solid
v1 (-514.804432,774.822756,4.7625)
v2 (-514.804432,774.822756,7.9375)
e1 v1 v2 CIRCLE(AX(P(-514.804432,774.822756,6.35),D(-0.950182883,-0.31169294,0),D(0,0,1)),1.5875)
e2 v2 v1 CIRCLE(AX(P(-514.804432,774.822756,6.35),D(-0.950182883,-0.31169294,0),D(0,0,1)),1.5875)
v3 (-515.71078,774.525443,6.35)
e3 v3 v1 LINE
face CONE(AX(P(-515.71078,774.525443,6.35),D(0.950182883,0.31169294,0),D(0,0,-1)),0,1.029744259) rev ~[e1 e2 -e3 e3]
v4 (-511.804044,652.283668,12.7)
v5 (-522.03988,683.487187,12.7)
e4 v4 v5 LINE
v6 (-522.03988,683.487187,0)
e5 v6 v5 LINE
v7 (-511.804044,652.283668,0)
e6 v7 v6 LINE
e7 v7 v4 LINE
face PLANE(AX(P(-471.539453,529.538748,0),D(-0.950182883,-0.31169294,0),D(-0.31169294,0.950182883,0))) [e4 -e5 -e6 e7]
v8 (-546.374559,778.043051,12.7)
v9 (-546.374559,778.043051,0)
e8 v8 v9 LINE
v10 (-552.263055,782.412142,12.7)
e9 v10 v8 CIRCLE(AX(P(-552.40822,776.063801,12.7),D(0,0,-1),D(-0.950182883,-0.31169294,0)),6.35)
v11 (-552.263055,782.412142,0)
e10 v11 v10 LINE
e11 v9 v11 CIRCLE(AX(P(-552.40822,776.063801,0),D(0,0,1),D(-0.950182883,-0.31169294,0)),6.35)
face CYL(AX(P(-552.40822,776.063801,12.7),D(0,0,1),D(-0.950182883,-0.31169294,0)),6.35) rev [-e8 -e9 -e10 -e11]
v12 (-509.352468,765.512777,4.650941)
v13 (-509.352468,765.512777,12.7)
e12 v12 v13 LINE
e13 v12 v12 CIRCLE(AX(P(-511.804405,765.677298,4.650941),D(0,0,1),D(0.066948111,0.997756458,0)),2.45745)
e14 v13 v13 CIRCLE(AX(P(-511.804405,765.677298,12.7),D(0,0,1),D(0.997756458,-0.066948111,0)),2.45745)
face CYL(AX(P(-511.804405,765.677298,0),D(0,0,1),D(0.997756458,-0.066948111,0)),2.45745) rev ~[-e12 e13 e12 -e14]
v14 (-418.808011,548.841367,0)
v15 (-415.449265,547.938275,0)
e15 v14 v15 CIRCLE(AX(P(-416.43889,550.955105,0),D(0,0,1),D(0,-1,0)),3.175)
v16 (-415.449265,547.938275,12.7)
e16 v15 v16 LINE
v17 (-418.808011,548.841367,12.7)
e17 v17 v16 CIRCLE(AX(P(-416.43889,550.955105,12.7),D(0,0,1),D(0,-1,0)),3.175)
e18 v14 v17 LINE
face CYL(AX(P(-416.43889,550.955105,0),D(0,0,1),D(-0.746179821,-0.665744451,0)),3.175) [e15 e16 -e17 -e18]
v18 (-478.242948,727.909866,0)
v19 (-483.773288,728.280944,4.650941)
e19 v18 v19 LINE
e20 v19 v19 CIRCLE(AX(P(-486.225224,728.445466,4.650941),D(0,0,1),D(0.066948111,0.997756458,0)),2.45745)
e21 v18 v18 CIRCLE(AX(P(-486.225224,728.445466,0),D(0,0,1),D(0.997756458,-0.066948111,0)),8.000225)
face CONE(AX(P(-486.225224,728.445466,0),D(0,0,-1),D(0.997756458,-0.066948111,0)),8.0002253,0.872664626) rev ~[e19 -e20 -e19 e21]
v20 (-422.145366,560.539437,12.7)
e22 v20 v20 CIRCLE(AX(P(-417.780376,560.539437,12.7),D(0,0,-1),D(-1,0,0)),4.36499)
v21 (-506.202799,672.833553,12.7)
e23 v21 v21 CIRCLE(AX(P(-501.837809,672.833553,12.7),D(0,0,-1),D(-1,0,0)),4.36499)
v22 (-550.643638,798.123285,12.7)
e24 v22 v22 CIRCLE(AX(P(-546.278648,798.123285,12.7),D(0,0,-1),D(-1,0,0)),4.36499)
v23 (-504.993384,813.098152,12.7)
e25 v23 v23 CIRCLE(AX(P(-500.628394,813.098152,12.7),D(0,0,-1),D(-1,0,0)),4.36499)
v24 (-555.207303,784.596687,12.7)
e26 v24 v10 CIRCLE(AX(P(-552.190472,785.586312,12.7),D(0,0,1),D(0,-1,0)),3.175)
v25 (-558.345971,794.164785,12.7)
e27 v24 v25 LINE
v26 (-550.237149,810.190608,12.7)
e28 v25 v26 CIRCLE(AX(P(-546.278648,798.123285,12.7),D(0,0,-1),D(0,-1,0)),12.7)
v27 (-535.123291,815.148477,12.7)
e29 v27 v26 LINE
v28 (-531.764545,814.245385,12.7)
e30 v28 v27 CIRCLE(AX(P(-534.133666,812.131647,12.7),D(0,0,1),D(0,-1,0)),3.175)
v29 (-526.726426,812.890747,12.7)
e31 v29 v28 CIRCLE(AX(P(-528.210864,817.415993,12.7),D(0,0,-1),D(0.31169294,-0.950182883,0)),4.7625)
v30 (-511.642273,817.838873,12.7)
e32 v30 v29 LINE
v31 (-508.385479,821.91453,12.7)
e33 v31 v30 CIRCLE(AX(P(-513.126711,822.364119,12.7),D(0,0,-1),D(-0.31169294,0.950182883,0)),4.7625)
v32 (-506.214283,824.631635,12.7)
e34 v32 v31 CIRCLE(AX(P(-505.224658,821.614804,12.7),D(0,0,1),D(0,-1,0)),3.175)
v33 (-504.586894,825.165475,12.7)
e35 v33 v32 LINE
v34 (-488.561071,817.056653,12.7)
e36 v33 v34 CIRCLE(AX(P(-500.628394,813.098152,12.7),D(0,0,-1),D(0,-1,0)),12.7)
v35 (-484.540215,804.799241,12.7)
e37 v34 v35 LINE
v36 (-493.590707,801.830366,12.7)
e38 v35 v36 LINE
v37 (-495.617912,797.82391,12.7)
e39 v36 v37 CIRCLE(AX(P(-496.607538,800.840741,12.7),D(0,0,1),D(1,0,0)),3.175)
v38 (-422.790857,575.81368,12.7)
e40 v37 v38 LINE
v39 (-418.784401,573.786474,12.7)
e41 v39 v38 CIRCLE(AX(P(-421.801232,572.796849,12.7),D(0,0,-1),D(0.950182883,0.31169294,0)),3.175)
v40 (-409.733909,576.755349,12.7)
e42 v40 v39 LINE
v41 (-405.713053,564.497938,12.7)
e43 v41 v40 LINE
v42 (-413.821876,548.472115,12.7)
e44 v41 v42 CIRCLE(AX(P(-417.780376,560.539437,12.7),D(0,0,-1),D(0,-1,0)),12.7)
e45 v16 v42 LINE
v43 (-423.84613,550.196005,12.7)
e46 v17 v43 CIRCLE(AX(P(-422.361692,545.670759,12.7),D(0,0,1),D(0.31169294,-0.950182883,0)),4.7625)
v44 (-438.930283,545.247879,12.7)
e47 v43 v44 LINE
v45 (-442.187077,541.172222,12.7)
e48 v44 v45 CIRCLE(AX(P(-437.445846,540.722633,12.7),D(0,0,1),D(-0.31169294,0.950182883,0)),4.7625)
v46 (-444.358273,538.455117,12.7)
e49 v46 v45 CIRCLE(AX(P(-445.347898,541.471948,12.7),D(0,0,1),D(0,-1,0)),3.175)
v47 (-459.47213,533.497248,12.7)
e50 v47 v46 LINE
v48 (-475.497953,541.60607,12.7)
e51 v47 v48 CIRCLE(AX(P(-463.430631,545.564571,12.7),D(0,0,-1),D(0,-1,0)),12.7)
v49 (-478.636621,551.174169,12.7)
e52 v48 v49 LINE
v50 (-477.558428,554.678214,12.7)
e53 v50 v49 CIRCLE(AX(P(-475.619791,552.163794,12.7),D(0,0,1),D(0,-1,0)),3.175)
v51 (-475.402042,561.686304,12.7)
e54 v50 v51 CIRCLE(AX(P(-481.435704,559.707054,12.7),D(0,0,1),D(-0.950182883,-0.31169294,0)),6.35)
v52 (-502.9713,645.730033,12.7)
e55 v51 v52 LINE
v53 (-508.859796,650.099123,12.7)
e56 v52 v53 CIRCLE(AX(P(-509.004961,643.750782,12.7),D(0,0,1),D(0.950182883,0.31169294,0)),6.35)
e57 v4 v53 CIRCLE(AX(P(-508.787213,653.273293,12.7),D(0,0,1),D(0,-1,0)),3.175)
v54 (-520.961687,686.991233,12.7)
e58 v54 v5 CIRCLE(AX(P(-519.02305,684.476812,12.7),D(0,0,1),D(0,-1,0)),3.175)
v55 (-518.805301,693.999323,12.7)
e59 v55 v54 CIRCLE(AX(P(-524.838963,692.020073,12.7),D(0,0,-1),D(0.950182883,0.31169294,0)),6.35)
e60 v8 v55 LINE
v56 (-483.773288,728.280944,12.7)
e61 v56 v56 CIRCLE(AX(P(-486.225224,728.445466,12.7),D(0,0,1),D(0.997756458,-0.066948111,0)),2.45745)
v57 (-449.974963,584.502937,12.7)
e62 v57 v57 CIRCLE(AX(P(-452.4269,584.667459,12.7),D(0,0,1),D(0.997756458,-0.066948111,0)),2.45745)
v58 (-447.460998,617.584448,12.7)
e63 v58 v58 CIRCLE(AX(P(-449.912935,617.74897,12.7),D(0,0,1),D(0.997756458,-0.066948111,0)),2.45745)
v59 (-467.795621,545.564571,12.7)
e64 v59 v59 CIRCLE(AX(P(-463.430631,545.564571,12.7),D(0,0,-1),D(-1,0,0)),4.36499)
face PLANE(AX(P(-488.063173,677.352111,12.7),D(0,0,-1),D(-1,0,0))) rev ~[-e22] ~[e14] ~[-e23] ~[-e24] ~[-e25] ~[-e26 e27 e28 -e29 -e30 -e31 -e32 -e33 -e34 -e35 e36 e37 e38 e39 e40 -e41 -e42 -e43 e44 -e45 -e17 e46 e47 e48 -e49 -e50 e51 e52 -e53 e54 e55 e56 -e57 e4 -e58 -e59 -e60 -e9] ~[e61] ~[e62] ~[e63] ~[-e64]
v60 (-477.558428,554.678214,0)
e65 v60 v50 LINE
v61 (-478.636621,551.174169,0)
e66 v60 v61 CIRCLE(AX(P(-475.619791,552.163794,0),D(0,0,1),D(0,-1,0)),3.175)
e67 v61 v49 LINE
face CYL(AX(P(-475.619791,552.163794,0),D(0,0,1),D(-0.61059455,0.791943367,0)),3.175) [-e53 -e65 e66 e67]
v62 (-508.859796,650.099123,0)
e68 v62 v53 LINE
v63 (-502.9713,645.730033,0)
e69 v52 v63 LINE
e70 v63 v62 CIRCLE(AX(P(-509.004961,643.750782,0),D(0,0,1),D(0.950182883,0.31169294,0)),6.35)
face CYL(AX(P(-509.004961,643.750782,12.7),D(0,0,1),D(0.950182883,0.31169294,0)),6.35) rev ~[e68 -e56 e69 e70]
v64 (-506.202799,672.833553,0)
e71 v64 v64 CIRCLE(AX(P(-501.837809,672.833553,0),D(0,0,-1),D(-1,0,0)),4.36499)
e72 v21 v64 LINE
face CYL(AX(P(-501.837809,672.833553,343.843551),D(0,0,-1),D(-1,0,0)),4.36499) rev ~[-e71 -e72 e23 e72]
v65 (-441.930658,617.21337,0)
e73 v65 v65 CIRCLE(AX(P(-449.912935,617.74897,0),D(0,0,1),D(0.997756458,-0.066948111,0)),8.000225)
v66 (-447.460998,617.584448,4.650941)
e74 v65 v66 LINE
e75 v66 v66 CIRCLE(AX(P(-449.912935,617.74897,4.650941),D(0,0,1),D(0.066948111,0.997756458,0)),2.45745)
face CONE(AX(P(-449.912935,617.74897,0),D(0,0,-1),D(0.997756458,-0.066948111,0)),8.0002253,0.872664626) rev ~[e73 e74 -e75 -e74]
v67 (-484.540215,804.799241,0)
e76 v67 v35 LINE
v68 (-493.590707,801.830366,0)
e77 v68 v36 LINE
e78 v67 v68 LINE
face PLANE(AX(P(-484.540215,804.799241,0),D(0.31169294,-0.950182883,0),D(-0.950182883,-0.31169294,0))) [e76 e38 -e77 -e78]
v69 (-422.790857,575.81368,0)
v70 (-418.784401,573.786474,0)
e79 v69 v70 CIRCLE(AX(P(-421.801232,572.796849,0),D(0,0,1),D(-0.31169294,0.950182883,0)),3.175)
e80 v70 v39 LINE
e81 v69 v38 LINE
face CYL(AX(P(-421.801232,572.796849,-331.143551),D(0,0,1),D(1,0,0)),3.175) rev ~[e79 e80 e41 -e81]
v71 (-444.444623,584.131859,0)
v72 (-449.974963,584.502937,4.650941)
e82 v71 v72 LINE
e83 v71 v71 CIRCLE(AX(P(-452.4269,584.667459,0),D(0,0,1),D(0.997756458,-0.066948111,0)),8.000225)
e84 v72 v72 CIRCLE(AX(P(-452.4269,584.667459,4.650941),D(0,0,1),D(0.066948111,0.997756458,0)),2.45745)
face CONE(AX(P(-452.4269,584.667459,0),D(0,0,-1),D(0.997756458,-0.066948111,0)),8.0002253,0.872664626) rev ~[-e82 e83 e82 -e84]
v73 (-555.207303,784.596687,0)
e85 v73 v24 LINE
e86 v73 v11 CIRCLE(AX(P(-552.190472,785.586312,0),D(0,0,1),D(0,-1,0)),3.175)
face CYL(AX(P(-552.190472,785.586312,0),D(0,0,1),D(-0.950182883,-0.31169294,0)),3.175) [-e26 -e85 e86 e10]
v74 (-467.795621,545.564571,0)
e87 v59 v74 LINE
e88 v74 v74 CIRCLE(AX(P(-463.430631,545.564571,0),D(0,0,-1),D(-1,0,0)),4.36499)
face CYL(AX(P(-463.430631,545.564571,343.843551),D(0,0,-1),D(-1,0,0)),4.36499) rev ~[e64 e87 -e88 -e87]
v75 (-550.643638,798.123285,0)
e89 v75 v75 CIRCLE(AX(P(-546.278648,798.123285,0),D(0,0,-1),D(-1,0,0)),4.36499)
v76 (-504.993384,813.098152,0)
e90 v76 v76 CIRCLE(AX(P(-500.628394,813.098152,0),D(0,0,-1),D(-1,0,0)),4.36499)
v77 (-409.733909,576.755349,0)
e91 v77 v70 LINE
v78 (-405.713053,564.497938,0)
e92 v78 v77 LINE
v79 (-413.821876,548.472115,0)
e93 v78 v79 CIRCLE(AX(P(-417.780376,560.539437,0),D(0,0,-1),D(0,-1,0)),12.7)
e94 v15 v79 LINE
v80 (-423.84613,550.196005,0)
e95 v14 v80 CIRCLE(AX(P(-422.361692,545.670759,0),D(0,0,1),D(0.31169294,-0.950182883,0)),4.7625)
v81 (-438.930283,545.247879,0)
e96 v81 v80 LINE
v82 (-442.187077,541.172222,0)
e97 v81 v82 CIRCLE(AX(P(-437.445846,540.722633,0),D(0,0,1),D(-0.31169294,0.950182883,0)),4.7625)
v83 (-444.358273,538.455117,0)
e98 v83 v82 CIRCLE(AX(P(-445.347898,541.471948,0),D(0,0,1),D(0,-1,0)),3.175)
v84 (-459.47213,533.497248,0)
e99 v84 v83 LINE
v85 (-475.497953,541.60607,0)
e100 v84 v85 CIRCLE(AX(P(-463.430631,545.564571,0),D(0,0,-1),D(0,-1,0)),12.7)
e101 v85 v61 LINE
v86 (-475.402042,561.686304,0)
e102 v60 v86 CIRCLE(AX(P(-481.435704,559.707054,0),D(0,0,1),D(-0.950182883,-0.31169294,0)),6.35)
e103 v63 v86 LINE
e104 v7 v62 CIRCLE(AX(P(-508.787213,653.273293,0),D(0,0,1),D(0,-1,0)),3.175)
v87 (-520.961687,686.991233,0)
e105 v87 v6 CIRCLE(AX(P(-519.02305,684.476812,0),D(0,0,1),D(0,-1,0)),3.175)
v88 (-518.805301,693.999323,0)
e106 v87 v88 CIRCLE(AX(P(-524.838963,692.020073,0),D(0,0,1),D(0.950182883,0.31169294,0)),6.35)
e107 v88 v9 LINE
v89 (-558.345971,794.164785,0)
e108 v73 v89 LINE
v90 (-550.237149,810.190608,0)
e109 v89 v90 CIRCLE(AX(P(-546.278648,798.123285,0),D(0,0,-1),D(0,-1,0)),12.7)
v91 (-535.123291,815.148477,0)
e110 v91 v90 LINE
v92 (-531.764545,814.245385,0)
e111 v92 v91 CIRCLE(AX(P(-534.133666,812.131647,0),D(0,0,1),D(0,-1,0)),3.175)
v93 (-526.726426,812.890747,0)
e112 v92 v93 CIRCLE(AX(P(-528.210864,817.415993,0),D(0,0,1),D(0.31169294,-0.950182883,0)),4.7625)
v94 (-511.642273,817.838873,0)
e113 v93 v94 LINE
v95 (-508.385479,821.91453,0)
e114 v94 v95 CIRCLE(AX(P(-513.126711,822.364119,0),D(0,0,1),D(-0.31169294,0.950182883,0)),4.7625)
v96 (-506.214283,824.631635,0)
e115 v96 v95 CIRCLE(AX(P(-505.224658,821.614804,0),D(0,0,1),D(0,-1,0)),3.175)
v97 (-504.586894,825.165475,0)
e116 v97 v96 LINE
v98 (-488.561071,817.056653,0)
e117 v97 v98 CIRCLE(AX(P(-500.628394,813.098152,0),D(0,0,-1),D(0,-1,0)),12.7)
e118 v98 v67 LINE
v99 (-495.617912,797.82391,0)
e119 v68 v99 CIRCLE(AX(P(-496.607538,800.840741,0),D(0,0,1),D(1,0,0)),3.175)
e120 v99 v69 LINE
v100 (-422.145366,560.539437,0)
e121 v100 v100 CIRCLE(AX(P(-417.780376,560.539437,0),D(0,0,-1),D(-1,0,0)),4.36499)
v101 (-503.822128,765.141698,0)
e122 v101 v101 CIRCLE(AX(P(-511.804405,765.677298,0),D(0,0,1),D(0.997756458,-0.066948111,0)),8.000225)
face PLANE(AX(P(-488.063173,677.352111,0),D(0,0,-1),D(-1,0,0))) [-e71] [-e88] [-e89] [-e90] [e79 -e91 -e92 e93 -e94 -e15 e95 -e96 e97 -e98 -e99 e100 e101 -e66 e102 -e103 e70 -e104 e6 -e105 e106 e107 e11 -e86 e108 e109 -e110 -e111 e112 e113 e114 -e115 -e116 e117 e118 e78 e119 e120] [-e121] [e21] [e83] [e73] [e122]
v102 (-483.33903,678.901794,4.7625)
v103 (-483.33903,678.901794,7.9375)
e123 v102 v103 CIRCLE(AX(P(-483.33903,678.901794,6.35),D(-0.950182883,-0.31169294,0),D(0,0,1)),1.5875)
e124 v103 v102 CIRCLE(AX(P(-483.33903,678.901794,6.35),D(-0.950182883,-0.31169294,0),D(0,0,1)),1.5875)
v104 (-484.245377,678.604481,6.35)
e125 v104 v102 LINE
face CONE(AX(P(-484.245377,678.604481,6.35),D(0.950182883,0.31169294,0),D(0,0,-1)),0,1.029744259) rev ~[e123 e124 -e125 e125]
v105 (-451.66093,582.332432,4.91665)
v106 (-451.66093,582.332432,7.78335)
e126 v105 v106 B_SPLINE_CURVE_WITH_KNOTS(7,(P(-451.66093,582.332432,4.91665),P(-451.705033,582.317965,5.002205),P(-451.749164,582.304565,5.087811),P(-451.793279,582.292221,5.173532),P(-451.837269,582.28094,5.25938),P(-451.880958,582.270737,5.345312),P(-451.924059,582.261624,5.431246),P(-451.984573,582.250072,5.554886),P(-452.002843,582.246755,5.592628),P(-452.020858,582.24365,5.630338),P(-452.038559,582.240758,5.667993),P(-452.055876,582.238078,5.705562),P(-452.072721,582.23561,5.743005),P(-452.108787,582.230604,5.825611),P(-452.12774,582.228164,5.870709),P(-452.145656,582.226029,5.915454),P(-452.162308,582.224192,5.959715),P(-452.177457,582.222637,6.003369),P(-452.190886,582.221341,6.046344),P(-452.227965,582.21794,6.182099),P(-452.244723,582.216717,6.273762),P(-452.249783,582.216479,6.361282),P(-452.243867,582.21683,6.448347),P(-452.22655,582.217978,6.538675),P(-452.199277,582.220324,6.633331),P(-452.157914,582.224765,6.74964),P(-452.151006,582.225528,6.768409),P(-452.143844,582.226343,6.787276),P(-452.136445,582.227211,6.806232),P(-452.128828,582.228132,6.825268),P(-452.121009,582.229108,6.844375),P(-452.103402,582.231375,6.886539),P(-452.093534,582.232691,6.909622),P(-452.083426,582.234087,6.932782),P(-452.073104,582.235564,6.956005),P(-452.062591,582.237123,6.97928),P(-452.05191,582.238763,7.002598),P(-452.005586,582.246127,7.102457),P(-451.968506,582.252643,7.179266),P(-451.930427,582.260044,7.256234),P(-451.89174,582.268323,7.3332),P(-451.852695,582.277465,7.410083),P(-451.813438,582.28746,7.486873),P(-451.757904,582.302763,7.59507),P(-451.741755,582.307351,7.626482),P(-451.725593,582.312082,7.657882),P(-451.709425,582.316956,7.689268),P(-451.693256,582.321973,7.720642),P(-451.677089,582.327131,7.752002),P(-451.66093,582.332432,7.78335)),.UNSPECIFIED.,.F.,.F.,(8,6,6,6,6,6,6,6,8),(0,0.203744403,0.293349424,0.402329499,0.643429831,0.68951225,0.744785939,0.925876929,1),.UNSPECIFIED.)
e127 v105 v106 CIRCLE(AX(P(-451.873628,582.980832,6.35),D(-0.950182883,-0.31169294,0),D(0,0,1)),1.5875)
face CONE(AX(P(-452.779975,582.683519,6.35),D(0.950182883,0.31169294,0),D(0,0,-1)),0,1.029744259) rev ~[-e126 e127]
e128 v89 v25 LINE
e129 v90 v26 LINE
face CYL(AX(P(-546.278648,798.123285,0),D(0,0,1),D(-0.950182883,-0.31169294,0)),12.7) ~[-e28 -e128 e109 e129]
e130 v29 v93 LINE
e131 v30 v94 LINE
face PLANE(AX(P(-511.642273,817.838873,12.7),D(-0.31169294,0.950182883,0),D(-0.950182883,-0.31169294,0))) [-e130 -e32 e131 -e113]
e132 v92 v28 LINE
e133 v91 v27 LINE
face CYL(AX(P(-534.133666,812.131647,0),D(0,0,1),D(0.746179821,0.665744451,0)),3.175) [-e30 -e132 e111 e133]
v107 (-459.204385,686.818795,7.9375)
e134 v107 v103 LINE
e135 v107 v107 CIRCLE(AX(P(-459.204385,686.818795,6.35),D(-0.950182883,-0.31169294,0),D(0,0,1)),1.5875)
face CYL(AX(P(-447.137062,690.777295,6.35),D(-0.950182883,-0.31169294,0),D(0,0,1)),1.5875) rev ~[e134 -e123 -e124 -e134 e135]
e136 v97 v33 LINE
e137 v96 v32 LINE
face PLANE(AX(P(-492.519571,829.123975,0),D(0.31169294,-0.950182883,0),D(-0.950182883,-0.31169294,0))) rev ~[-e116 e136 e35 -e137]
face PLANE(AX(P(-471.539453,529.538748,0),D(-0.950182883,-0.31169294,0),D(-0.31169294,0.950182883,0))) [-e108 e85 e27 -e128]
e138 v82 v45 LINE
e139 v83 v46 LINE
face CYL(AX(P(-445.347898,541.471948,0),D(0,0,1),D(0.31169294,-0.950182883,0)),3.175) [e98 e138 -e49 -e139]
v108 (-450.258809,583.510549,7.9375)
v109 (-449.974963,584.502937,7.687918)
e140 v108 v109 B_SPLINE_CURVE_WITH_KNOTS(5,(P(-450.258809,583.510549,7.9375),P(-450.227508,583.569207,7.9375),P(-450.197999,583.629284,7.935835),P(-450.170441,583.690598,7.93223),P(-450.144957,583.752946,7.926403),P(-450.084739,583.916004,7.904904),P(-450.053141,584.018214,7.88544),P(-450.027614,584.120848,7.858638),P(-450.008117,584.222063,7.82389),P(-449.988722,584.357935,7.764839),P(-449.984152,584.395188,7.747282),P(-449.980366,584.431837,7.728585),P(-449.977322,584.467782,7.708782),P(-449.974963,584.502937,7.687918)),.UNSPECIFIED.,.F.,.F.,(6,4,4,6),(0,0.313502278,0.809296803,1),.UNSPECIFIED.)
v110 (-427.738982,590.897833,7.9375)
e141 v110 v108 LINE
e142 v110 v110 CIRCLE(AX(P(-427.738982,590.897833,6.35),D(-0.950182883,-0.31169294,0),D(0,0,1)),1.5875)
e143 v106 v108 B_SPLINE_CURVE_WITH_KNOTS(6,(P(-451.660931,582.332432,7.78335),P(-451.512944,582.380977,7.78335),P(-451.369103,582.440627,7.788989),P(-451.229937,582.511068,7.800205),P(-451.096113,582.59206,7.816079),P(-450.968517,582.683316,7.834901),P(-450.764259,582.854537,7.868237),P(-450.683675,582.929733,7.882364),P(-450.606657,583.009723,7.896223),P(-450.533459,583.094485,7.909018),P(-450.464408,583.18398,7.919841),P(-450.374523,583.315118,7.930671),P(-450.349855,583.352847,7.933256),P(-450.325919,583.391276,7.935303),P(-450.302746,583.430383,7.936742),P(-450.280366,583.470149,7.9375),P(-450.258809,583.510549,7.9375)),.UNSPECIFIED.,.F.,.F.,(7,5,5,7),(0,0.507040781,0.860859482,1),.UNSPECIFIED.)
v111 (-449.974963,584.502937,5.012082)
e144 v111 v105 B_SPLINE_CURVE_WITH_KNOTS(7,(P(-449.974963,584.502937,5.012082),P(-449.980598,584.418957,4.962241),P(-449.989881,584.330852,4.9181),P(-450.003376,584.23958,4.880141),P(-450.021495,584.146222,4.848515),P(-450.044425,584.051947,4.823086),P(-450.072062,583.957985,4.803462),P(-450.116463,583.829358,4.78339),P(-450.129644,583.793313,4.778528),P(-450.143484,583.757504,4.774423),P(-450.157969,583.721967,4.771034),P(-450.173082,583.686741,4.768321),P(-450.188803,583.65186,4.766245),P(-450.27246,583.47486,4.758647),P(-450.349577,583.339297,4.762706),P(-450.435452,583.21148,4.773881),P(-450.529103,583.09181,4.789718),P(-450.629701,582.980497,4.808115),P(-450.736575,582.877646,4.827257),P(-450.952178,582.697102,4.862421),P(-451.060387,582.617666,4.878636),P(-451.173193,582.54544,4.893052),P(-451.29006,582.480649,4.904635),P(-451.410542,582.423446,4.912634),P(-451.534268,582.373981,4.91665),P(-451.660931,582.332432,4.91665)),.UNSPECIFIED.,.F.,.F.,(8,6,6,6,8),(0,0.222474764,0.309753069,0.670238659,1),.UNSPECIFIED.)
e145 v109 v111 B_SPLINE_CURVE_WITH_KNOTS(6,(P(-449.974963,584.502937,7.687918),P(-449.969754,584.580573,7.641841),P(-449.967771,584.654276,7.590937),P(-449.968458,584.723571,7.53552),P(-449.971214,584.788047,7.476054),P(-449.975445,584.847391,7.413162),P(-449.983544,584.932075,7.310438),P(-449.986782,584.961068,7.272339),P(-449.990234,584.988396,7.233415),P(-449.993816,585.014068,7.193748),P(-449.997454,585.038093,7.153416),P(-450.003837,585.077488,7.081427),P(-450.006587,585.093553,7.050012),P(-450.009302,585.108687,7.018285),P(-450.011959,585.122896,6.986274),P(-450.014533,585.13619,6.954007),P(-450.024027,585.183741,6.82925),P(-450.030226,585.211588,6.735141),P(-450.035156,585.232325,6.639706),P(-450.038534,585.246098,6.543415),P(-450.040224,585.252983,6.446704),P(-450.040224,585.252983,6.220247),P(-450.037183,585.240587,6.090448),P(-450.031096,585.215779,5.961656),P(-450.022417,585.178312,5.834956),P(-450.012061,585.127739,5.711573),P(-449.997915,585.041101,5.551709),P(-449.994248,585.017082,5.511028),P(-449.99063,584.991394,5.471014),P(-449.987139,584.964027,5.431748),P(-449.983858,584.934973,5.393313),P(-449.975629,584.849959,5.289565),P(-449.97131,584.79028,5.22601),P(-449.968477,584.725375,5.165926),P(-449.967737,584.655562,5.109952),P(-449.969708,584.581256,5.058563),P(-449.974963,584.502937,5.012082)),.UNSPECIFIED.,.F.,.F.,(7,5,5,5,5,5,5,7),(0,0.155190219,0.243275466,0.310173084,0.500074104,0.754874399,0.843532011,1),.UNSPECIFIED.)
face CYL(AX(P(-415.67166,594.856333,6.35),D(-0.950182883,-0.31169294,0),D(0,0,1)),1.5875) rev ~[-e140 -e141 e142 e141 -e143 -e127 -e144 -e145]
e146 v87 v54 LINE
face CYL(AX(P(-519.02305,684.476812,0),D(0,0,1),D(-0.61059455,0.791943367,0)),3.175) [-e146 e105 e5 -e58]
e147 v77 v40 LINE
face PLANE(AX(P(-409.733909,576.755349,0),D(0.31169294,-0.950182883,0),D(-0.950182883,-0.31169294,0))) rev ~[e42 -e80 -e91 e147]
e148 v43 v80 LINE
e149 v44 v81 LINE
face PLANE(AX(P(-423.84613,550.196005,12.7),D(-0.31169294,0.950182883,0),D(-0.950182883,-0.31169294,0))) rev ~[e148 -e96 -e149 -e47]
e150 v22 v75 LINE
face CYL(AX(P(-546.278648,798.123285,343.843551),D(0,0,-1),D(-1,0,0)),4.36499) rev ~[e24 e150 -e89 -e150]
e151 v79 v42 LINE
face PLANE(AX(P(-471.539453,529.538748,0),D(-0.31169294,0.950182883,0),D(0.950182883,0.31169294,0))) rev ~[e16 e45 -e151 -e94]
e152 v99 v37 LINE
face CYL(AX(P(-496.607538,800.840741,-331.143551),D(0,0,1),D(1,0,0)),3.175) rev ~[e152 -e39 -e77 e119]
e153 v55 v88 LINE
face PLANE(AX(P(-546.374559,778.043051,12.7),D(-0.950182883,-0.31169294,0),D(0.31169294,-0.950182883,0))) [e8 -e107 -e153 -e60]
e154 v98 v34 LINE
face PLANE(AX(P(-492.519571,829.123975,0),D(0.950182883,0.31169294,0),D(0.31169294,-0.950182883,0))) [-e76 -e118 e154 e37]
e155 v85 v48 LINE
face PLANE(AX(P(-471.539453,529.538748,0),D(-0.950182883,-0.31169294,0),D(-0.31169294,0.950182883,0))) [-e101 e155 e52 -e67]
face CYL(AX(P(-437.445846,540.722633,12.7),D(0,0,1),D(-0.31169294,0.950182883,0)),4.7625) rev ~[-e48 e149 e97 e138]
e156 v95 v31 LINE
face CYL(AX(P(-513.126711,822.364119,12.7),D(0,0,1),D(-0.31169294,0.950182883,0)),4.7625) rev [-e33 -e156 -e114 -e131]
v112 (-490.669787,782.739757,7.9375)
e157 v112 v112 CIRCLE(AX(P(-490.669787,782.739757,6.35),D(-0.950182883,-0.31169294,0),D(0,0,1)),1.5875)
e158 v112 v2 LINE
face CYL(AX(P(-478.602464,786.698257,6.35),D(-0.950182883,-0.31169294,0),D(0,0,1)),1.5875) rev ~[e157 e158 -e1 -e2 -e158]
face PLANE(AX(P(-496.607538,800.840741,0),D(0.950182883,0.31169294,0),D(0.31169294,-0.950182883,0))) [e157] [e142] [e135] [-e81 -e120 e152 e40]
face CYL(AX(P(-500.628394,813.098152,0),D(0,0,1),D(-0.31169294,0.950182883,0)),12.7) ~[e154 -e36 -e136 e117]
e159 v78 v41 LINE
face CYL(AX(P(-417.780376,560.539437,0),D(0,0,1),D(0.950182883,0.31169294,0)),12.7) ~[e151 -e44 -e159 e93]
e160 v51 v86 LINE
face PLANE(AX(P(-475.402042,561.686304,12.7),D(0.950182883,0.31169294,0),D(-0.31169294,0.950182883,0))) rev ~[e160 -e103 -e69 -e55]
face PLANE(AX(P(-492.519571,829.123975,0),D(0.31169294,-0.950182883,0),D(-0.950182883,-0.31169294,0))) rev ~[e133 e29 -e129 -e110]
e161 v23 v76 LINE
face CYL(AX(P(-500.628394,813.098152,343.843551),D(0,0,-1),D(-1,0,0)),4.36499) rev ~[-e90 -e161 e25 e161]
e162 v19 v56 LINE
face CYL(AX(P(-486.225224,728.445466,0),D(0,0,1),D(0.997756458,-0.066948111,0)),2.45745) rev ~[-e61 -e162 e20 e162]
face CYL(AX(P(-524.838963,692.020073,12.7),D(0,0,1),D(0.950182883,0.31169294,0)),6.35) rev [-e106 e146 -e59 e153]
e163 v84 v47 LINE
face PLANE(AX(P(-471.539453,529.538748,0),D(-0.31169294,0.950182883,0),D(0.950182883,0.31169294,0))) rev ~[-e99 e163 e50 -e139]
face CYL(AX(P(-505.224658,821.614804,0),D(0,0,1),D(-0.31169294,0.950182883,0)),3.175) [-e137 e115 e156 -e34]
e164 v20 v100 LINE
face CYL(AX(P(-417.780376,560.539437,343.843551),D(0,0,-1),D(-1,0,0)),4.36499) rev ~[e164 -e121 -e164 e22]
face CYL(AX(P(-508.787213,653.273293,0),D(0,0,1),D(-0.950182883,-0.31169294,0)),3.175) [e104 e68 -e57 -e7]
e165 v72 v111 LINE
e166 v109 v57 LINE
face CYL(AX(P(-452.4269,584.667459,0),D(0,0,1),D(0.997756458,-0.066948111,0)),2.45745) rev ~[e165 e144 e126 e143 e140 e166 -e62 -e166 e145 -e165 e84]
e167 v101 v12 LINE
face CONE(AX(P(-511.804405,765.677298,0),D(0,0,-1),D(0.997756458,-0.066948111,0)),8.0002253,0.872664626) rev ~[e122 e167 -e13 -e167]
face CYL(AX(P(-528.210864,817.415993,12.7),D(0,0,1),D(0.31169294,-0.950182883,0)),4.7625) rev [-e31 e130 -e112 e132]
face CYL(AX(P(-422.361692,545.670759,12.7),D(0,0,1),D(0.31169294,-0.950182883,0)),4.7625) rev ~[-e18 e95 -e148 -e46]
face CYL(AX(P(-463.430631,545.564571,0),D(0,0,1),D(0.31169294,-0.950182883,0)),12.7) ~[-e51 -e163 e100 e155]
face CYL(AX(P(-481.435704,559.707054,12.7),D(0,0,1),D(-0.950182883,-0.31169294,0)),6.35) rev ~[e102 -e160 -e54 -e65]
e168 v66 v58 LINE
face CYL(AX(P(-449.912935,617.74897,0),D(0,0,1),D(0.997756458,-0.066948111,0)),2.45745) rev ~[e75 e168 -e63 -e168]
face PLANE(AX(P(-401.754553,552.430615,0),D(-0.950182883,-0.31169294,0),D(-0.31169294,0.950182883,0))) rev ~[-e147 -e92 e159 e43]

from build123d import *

# Parameters (mm, degrees)
BOSS_EXTRUDE1_DEPTH                               = 12.7
FILLET1_R                                         = 12.7
F_1_4_0_25_DIAMETER_HOLE1_D                       = 6.35
HOLE1_D                                           = 3.175
HOLE1_DEPTH                                       = 38.1
HOLE1_CSINK_D                                     = 10.16
HOLE1_CSINK_ANGLE                                 = 82
HOLE1_TIP                                         = 0.9538662327062519
F_5_16_CLEARANCE_HOLE1_D                          = 8.72998
CUT_EXTRUDE1_DEPTH                                = 998.2767957894854
FILLET2_R                                         = 3.175
CSK_FOR_8_FLAT_HEAD_MACHINE_SCREW_100_D           = 4.9149
CSK_FOR_8_FLAT_HEAD_MACHINE_SCREW_100_DEPTH       = 22.225
CSK_FOR_8_FLAT_HEAD_MACHINE_SCREW_100_CSINK_D     = 16.0004506
CSK_FOR_8_FLAT_HEAD_MACHINE_SCREW_100_CSINK_ANGLE = 100
CSK_FOR_8_FLAT_HEAD_MACHINE_SCREW_100_TIP         = 1.476584928229278


with BuildPart() as part:
    # Sketch1 → Boss-Extrude1 (new body)
    with BuildSketch(Plane.XY):
        Polygon((-504.586893891522, 825.1654748045078), (-413.82187552728277, 548.4721148571872), (-471.5394528912339, 529.5387477161187), (-562.3044712554732, 806.2321076634394), align=None)
        Polygon((-421.80123191535296, 572.7968488683923), (-413.82187552728277, 548.4721148571872), (-401.754552912923, 552.4306151945574), (-409.7339093009929, 576.7553492057625), align=None)
        Polygon((-504.586893891522, 825.1654748045078), (-492.51957127716224, 829.123975141878), (-484.5402148890918, 804.7992411306724), (-496.6075375034517, 800.8407407933022), align=None)
    extrude(amount=BOSS_EXTRUDE1_DEPTH)

    # Fillet1
    fillet1_edges = [part.edges().sort_by_distance(p)[0] for p in [
        (-401.754552912923, 552.4306151945574, 6.35),
        (-471.5394528912339, 529.5387477161187, 6.35),
        (-562.3044712554732, 806.2321076634394, 6.35),
        (-492.51957127716224, 829.123975141878, 6.35),
    ]]
    fillet(fillet1_edges, radius=FILLET1_R)

    # 1/4 (0.25) Diameter Hole1 (through all)
    with Locations(Plane(origin=(0, 0, 0), x_dir=(-1, 0, 0), z_dir=(0, 0, -1))):
        with Locations((496.607537503, 800.840740793), (421.801231915, 572.796848868)):
            Hole(F_1_4_0_25_DIAMETER_HOLE1_D / 2)

    # Hole1
    with Locations(Plane(origin=(-72.82198225638447, -450.30656055117834, -91.0749999969487), x_dir=(-4.8e-16, -1.6e-16, -1), z_dir=(0.9501828830204595, 0.3116929399504066, 0))):
        with Locations((-97.424999997, 1099.959715498), (-97.424999997, 1301.859715498), (-97.424999997, 1200.909715498)):
            CounterSinkHole(HOLE1_D / 2, HOLE1_CSINK_D / 2, depth=HOLE1_DEPTH, counter_sink_angle=HOLE1_CSINK_ANGLE)
            with Locations((0, 0, -(HOLE1_DEPTH + HOLE1_TIP / 2))):  # 118° drill point
                Cone(0, HOLE1_D / 2, HOLE1_TIP, mode=Mode.SUBTRACT)

    # 5/16 Clearance Hole1 (through all)
    with Locations(Plane.XY.offset(12.7)):
        with Locations((-546.278648304, 798.123285386), (-500.628393554, 813.09815219), (-463.430630614, 545.564570668), (-417.780375865, 560.539437472), (-501.837808805, 672.833553111)):
            Hole(F_5_16_CLEARANCE_HOLE1_D / 2)

    # Sketch9 → Cut-Extrude1 (cut, through all)
    with BuildSketch(Plane.XY.offset(12.7)):
        with BuildLine():
            Line((-529.6953014924577, 821.9412393048426), (-514.6111482245083, 826.8893647265553))
            ThreePointArc((-514.6111482245083, 826.8893647265553), (-508.60146461760905, 823.8485563726845), (-511.6422729714802, 817.838872765785))
            Line((-511.6422729714802, 817.838872765785), (-526.72642623943, 812.8907473440726))
            ThreePointArc((-526.72642623943, 812.8907473440726), (-532.7361098463288, 815.9315556979438), (-529.6953014924577, 821.9412393048426))
        make_face()
        with BuildLine():
            Line((-546.3745591048678, 778.043051296225), (-518.8053014409139, 693.9993230871839))
            ThreePointArc((-518.8053014409139, 693.9993230871839), (-522.8597125794092, 685.9864116113188), (-530.8726240552741, 690.0408227498137))
            Line((-530.8726240552741, 690.0408227498137), (-558.4418817192275, 774.084550958855))
            ThreePointArc((-558.4418817192275, 774.084550958855), (-554.3874705807326, 782.0974624347199), (-546.3745591048678, 778.043051296225))
        make_face()
        with BuildLine():
            Line((-435.961407875191, 536.1973873967519), (-420.87725460724124, 541.1455128184643))
            ThreePointArc((-420.87725460724124, 541.1455128184643), (-417.83644625337, 547.1551964253636), (-423.8461298602691, 550.1960047792348))
            Line((-423.8461298602691, 550.1960047792348), (-438.93028312821866, 545.2478793575218))
            ThreePointArc((-438.93028312821866, 545.2478793575218), (-441.9710914820897, 539.2381957506229), (-435.961407875191, 536.1973873967519))
        make_face()
        with BuildLine():
            Line((-475.40204242747944, 561.6863044207033), (-502.9713000914331, 645.7300326297446))
            ThreePointArc((-502.9713000914331, 645.7300326297446), (-510.9842115672985, 649.7844437682393), (-515.038622705793, 641.7715322923741))
            Line((-515.038622705793, 641.7715322923741), (-487.4693650418391, 557.7278040833331))
            ThreePointArc((-487.4693650418391, 557.7278040833331), (-479.4564535659742, 553.6733929448383), (-475.40204242747944, 561.6863044207033))
        make_face()
    extrude(amount=-CUT_EXTRUDE1_DEPTH, mode=Mode.SUBTRACT)

    # Fillet2
    fillet2_edges = [part.edges().sort_by_distance(p)[0] for p in [
        (-417.83644625337, 547.1551964253636, 6.35),
        (-441.97109148208983, 539.2381957506232, 6.35),
        (-522.859712579409, 685.9864116113188, 6.35),
        (-554.3874705807328, 782.0974624347198, 6.35),
        (-510.9842115672983, 649.7844437682394, 6.35),
        (-479.45645356597436, 553.6733929448382, 6.35),
        (-508.60146461760894, 823.8485563726842, 6.35),
        (-532.7361098463288, 815.9315556979437, 6.35),
    ]]
    fillet(fillet2_edges, radius=FILLET2_R)

    # CSK for #8 Flat Head Machine Screw (100)2
    with Locations(Plane(origin=(322.2568407232823, -320.70700445811474, 0), x_dir=(-0.9977564584489056, 0.06694811142592035, 0), z_dir=(0, 0, -1))):
        with Locations((876.906978493, 992.672305446), (833.265235439, 884.655200952), (904.92137181, 1028.108129087), (833.558815764, 851.479604792)):
            CounterSinkHole(CSK_FOR_8_FLAT_HEAD_MACHINE_SCREW_100_D / 2, CSK_FOR_8_FLAT_HEAD_MACHINE_SCREW_100_CSINK_D / 2, depth=CSK_FOR_8_FLAT_HEAD_MACHINE_SCREW_100_DEPTH, counter_sink_angle=CSK_FOR_8_FLAT_HEAD_MACHINE_SCREW_100_CSINK_ANGLE)
            with Locations((0, 0, -(CSK_FOR_8_FLAT_HEAD_MACHINE_SCREW_100_DEPTH + CSK_FOR_8_FLAT_HEAD_MACHINE_SCREW_100_TIP / 2))):  # 118° drill point
                Cone(0, CSK_FOR_8_FLAT_HEAD_MACHINE_SCREW_100_D / 2, CSK_FOR_8_FLAT_HEAD_MACHINE_SCREW_100_TIP, mode=Mode.SUBTRACT)


solid = part.part
